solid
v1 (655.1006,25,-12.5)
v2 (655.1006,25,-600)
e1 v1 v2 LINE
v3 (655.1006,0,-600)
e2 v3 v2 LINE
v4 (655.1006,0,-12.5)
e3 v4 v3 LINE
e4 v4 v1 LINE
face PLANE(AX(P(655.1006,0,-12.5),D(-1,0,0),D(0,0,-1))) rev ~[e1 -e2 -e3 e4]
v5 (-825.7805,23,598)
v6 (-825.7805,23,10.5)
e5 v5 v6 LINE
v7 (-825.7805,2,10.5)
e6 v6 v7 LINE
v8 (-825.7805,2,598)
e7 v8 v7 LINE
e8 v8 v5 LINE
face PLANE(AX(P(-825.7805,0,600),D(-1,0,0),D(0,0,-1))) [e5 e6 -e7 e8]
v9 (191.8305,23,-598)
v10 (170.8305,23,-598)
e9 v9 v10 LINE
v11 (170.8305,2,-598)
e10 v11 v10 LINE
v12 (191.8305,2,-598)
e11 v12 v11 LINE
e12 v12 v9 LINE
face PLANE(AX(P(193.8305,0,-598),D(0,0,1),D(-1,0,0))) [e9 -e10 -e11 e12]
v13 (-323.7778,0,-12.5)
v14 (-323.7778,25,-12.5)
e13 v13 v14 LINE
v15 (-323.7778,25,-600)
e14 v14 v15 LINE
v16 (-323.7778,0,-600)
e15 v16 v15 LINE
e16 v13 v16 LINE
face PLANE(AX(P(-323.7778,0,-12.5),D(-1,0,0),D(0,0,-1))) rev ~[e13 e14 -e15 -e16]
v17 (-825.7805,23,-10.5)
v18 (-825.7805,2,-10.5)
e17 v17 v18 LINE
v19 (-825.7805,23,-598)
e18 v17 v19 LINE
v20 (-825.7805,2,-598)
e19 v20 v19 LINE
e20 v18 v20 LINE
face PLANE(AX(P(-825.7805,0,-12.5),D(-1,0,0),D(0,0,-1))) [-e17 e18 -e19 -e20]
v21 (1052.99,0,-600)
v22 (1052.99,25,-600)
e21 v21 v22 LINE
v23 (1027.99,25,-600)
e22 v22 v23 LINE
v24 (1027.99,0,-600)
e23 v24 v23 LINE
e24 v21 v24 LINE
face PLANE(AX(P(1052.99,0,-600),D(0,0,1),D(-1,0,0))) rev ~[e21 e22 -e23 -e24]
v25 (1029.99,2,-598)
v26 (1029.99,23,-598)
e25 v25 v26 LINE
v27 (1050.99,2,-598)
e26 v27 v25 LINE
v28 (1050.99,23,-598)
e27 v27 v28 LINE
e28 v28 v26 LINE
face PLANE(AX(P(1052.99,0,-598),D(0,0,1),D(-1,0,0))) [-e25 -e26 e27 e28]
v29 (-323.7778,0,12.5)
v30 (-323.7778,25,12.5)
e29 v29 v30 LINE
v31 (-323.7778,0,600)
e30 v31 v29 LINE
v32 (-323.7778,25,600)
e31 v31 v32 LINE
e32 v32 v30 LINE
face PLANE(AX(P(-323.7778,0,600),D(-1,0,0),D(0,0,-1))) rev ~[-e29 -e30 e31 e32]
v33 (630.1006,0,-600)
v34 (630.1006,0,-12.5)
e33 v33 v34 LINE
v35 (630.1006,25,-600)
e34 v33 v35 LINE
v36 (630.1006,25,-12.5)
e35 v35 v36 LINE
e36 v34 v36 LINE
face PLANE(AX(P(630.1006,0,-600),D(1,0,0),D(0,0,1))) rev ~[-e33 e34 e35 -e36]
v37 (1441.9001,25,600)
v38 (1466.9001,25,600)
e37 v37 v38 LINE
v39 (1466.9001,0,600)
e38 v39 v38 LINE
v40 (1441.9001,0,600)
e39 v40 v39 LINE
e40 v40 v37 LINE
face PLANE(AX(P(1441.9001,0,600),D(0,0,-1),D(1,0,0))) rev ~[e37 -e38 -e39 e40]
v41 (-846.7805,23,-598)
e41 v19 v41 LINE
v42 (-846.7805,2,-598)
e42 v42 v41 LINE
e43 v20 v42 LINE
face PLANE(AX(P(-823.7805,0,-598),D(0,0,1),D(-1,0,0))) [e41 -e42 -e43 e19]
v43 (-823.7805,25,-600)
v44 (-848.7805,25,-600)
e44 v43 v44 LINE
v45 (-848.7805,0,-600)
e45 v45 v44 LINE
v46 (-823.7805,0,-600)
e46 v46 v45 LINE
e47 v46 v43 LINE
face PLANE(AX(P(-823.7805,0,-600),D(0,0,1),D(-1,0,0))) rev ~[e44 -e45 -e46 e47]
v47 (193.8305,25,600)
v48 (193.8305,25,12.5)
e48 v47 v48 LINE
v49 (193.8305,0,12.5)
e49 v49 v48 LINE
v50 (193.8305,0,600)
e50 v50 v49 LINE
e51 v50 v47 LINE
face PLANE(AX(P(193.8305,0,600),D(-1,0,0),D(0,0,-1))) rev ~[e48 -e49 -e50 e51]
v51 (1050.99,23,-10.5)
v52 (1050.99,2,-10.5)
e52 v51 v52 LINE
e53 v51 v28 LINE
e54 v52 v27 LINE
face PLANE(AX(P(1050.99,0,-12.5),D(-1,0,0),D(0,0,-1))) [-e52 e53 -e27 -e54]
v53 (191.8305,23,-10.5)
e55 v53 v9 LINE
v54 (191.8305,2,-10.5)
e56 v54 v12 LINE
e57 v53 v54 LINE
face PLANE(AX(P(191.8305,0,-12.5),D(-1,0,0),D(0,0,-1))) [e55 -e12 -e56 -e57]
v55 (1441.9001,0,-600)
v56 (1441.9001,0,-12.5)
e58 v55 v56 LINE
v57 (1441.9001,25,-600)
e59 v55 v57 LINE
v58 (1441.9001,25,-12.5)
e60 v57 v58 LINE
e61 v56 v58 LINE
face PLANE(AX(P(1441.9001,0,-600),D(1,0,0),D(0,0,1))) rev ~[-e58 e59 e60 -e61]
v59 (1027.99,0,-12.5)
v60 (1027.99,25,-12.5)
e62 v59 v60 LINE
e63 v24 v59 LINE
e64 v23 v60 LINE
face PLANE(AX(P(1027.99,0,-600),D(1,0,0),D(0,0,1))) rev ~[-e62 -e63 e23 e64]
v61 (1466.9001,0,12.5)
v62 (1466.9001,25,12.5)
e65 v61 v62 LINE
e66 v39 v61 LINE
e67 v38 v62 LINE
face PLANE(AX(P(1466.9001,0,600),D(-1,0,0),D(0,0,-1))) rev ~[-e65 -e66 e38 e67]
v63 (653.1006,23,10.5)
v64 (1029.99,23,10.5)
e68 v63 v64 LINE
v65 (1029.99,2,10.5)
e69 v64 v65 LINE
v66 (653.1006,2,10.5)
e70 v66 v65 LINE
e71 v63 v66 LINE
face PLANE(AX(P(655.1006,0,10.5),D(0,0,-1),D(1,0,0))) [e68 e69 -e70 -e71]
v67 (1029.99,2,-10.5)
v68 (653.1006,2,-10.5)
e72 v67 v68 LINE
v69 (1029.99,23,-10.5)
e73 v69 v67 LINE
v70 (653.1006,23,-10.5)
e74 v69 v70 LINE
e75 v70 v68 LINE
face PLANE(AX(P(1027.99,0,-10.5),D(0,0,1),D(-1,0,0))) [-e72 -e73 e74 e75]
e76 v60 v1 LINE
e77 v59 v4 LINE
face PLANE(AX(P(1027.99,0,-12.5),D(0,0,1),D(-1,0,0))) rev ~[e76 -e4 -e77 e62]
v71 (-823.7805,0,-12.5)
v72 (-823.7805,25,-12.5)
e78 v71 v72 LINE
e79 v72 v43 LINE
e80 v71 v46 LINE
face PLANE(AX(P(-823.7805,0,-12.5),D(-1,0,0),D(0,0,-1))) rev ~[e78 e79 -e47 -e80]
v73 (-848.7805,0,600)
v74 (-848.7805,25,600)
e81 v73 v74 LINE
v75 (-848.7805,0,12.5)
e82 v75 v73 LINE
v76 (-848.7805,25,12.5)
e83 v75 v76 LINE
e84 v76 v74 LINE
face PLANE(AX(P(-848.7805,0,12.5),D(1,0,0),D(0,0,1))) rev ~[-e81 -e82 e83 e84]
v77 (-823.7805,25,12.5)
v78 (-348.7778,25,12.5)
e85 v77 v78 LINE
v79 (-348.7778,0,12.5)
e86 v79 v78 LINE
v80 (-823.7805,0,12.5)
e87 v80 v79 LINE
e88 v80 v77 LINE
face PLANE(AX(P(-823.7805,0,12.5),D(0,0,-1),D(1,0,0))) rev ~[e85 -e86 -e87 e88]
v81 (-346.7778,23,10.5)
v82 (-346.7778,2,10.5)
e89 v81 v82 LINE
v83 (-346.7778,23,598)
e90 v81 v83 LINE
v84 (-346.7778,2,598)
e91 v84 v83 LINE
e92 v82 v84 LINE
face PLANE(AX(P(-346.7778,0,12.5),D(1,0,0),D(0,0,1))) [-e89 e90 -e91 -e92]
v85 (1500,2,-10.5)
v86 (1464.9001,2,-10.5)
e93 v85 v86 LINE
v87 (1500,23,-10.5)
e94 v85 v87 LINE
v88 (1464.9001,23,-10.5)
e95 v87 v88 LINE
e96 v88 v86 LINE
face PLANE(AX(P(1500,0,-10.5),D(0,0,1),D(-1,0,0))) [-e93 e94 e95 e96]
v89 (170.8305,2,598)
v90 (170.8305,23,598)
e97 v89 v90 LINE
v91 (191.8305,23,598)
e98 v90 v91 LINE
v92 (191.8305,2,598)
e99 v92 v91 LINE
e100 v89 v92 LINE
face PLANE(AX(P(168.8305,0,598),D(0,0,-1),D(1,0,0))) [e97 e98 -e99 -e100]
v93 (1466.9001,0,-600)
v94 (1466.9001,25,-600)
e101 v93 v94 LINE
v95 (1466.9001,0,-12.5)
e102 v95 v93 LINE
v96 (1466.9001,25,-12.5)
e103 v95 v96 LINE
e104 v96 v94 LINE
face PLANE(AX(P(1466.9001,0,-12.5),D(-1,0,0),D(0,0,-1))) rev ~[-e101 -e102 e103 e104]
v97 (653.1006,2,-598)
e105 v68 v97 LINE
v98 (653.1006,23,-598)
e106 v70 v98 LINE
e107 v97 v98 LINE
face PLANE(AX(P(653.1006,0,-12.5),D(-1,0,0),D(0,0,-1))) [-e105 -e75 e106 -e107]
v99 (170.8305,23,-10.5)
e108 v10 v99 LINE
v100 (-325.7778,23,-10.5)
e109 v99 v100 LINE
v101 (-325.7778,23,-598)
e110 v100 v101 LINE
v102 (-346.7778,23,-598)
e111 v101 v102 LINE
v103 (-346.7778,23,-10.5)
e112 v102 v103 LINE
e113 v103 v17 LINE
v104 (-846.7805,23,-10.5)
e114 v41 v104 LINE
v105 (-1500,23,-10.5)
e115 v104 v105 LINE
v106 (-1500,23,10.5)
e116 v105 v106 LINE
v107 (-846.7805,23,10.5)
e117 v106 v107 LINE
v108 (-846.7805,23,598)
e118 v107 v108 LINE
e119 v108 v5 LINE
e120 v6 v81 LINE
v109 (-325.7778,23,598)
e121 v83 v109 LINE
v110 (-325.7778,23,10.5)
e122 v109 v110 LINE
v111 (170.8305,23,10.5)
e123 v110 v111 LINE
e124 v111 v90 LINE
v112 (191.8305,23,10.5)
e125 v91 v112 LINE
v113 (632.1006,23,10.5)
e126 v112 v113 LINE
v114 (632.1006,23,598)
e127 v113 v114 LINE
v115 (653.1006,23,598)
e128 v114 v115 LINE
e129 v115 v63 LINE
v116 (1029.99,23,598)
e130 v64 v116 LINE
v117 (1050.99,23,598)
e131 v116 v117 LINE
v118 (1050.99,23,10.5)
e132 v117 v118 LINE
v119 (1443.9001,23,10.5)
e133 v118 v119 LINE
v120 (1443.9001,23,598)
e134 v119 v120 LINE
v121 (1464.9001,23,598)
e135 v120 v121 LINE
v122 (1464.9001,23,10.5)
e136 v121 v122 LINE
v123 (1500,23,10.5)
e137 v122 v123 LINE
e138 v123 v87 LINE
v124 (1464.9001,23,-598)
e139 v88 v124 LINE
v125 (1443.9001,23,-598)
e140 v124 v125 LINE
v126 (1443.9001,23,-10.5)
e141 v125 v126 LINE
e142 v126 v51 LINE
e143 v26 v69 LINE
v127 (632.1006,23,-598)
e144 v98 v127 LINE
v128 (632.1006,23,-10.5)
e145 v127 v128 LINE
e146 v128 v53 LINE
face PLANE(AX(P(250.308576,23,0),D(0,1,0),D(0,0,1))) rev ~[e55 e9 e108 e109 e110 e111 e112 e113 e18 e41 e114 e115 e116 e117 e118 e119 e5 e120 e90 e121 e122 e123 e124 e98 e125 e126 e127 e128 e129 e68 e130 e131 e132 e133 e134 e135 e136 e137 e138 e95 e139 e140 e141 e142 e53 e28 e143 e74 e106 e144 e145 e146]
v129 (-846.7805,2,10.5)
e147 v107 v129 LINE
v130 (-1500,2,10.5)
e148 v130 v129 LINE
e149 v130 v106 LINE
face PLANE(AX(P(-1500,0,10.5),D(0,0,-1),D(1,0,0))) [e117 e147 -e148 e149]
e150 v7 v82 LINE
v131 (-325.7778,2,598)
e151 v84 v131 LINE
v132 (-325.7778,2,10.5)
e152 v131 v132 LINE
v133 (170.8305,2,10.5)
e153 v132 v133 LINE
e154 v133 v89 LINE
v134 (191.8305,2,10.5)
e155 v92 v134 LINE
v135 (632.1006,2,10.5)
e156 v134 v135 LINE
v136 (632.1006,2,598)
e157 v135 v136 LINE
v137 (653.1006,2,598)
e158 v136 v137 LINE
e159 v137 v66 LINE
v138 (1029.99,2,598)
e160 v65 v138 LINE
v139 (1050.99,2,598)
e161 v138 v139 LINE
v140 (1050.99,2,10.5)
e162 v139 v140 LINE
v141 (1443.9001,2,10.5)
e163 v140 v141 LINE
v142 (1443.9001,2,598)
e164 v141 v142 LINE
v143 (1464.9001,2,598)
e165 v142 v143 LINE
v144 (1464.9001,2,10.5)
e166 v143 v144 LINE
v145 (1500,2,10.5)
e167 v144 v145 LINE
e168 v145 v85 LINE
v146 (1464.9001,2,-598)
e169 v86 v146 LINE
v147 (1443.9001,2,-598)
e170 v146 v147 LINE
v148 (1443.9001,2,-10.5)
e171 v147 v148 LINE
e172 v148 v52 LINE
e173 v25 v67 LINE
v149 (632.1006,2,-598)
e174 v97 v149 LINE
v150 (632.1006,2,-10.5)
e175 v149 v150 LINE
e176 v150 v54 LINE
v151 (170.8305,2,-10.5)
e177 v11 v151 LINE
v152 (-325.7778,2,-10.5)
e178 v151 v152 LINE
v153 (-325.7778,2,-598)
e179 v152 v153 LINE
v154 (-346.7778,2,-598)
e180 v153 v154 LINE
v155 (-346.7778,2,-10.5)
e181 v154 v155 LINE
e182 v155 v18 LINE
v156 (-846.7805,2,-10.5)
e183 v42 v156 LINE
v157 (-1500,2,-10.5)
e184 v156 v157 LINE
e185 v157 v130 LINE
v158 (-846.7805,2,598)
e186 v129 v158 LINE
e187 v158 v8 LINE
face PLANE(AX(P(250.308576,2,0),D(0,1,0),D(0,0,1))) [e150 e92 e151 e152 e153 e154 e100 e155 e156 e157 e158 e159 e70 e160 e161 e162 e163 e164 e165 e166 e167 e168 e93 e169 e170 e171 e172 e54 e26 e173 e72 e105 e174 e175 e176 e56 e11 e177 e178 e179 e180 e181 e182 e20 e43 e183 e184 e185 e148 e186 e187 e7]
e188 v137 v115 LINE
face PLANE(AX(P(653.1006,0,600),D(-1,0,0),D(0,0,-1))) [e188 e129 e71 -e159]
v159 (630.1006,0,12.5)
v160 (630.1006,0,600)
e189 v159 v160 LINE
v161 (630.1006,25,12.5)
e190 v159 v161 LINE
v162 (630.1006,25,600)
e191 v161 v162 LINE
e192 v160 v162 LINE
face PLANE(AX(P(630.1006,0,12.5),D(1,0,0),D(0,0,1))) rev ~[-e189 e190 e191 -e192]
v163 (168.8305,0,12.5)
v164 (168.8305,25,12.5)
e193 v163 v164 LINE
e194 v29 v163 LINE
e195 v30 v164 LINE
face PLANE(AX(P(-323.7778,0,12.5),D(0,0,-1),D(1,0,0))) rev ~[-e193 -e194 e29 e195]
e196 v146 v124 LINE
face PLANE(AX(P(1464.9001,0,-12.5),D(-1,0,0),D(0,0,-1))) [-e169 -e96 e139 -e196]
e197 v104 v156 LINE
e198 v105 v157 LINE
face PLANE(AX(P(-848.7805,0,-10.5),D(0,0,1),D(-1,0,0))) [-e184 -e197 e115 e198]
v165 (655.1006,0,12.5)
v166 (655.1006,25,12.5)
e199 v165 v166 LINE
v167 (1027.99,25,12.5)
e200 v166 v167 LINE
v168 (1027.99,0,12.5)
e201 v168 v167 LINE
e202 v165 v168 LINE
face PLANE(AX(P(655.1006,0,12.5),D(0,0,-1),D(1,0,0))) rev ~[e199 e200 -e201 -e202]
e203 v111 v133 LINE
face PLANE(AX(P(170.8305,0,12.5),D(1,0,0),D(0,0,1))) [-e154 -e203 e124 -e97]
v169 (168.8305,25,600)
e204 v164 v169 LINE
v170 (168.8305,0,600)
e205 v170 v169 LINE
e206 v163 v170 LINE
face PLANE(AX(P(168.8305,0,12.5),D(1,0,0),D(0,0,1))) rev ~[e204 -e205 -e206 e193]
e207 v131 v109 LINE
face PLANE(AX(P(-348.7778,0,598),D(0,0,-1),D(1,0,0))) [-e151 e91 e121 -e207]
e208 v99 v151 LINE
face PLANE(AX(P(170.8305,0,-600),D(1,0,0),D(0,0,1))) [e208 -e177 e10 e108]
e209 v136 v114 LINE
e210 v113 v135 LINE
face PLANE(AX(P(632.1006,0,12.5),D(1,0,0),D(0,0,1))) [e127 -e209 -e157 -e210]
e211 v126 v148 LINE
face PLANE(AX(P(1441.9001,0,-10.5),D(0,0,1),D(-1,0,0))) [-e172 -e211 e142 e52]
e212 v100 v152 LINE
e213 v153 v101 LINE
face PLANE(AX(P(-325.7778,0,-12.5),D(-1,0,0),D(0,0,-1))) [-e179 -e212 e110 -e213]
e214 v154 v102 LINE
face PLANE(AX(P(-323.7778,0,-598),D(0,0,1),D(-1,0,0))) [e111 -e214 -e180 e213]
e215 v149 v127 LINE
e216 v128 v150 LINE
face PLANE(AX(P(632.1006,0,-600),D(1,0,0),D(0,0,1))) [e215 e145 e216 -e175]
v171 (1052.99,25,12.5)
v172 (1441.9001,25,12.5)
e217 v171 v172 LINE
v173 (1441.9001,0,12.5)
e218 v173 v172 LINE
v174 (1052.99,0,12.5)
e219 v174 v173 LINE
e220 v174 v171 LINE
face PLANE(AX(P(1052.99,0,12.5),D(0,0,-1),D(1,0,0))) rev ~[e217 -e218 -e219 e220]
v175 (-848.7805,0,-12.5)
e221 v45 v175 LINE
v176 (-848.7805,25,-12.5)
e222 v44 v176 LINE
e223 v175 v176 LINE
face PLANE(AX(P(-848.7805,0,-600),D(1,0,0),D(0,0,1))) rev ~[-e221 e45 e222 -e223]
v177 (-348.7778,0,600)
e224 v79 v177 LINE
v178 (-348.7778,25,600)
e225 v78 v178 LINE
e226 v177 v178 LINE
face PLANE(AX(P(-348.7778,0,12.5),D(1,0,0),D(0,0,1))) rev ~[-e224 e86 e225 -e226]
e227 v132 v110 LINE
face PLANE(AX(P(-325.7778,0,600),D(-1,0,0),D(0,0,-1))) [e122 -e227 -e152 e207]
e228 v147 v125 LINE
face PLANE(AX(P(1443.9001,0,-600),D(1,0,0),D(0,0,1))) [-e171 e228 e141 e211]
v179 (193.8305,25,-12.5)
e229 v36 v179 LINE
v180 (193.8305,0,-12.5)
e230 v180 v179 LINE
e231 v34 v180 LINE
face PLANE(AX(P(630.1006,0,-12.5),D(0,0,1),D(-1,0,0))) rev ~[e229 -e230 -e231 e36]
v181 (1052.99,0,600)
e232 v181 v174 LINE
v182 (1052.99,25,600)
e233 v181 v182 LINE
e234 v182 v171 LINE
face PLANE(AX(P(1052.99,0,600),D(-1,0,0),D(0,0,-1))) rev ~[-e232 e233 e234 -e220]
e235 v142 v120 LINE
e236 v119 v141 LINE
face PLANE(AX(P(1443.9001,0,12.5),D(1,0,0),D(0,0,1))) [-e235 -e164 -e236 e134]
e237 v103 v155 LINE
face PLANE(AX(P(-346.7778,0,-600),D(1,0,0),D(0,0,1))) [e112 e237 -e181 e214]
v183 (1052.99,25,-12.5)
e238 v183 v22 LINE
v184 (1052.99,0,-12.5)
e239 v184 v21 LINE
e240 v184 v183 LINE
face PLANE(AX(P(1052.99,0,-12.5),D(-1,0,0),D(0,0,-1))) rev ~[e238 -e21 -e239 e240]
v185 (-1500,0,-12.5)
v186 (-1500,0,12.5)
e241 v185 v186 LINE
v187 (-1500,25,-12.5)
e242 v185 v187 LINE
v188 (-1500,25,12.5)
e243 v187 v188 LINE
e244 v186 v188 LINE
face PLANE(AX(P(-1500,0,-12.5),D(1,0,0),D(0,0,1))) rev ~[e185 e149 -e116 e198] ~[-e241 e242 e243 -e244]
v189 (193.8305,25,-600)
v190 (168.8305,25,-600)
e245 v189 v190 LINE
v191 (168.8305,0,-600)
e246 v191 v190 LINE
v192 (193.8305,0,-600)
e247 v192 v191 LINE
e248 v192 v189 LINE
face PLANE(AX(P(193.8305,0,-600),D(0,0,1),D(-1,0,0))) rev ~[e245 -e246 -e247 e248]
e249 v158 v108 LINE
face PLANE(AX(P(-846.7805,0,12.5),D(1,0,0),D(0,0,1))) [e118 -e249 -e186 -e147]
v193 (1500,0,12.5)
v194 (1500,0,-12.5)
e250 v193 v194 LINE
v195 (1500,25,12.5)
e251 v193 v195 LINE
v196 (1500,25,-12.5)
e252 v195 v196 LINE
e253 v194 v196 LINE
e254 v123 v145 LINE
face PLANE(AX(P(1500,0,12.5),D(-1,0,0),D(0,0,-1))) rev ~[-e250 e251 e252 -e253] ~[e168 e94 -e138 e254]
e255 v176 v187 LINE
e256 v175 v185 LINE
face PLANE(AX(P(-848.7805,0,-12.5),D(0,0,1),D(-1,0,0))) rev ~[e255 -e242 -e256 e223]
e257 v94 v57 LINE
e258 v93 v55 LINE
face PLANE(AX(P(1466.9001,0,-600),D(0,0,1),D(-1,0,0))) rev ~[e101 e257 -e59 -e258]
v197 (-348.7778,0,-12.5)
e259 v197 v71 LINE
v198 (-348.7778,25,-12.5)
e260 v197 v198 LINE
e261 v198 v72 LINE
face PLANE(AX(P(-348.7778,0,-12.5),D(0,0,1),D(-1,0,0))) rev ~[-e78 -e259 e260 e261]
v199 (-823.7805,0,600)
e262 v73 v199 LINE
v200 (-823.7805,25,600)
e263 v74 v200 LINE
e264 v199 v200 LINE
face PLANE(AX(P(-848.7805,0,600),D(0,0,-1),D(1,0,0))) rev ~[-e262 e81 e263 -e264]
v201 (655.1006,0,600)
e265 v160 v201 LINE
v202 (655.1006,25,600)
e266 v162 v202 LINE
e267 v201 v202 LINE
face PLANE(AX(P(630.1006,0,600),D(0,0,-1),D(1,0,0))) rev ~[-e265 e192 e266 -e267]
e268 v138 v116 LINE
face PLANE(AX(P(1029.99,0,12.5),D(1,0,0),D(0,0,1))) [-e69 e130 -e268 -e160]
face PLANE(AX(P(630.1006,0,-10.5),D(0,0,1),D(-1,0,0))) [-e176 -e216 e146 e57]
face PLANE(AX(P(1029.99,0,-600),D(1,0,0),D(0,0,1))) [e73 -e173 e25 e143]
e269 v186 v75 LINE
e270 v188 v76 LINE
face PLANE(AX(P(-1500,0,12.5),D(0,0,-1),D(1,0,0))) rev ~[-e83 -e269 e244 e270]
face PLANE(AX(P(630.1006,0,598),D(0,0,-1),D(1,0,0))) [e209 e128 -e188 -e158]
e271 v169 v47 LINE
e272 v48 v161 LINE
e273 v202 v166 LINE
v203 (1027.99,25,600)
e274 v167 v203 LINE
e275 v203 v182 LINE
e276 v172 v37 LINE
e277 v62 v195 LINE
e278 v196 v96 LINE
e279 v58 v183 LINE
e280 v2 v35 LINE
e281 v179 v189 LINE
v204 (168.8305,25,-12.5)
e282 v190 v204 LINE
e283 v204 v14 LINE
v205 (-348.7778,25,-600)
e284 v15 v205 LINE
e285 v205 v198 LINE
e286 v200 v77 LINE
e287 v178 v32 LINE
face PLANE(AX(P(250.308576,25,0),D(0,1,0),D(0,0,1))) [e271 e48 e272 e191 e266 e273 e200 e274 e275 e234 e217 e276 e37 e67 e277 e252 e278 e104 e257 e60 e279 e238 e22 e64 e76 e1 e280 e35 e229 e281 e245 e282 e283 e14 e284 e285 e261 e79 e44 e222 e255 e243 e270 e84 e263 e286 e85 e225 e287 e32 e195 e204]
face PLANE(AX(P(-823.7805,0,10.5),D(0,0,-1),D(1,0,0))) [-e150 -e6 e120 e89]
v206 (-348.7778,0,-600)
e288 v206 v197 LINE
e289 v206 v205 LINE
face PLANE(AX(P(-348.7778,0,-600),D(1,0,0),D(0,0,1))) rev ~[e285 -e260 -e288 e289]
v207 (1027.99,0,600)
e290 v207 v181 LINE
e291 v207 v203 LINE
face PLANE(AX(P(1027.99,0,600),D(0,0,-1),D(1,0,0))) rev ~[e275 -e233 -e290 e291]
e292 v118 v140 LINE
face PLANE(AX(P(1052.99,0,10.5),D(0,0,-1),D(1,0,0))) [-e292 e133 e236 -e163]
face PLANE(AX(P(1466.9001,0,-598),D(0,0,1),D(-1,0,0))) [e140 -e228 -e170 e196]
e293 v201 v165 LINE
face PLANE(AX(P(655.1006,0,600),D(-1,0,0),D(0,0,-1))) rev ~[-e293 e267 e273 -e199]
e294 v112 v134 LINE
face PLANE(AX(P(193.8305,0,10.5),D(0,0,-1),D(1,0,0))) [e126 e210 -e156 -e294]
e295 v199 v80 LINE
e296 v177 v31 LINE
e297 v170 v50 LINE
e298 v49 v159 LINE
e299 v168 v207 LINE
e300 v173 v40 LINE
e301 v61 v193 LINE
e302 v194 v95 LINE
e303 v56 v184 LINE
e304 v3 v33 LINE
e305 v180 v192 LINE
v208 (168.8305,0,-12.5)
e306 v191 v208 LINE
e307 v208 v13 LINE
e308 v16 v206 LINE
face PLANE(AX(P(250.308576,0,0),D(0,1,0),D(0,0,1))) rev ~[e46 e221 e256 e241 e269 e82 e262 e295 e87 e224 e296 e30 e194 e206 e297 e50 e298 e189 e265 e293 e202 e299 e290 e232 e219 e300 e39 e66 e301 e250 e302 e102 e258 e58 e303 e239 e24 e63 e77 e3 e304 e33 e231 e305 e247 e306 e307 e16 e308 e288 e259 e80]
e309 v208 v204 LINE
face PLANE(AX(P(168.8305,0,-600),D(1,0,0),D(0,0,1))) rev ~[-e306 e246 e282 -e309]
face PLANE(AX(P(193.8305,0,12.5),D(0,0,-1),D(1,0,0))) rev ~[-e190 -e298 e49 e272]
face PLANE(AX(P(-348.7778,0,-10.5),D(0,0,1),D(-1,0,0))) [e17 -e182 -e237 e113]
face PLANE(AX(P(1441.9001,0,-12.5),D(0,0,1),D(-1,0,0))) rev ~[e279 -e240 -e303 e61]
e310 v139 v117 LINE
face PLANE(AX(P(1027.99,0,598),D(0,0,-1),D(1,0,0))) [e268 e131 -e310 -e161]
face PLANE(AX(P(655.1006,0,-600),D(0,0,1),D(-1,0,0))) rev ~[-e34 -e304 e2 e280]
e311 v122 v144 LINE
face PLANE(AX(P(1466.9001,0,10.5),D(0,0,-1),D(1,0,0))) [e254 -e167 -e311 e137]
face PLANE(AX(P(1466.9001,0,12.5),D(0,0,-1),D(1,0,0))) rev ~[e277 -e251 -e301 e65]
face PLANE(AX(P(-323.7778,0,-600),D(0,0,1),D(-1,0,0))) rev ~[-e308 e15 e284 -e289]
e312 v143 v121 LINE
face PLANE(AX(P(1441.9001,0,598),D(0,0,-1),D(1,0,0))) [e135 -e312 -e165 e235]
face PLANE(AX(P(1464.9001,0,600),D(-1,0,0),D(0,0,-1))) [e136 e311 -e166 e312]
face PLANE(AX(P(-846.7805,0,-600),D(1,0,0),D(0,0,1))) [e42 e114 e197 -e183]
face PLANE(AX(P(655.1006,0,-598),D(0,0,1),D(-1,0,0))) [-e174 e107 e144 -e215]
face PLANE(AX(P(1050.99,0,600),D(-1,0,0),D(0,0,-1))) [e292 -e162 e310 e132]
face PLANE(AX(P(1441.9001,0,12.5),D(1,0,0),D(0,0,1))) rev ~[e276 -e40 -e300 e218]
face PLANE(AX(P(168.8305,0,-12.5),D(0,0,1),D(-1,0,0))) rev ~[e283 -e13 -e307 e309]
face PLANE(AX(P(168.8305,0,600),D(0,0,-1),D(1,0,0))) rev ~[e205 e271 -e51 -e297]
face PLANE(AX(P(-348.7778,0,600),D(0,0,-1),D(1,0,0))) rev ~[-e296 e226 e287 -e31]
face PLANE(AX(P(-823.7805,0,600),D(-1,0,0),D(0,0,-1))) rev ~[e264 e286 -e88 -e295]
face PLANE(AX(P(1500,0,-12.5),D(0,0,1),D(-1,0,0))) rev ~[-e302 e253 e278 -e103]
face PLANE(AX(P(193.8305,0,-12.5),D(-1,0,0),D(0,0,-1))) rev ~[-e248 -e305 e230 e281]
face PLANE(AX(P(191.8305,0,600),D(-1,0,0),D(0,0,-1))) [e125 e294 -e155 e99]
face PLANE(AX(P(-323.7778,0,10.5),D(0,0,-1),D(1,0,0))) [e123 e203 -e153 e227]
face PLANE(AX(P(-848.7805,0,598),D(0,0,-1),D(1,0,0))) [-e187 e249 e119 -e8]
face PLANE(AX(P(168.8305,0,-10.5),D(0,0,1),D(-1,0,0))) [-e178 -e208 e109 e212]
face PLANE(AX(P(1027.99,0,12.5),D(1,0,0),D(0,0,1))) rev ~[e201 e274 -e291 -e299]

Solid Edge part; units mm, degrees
sketch "Sketch1" plane through (0, 0, 0) normal (0, -1, 0) x (1, 0, 0)
  line L0 (-323.7778, 12.5) -> (168.8305, 12.5)
  line L1 (168.8305, 12.5) -> (168.8305, 600)
  line L2 (168.8305, 600) -> (193.8305, 600)
  line L3 (193.8305, 600) -> (193.8305, 12.5)
  line L4 (193.8305, 12.5) -> (630.1006, 12.5)
  line L5 (630.1006, 12.5) -> (630.1006, 600)
  line L6 (630.1006, 600) -> (655.1006, 600)
  line L7 (655.1006, 600) -> (655.1006, 12.5)
  line L8 (655.1006, 12.5) -> (1027.99, 12.5)
  line L9 (1027.99, 12.5) -> (1027.99, 600)
  line L10 (1027.99, 600) -> (1052.99, 600)
  line L11 (1052.99, 600) -> (1052.99, 12.5)
  line L12 (1052.99, 12.5) -> (1441.9001, 12.5)
  line L13 (1441.9001, 12.5) -> (1441.9001, 600)
  line L14 (1441.9001, 600) -> (1466.9001, 600)
  line L15 (1466.9001, 600) -> (1466.9001, 12.5)
  line L16 (1466.9001, 12.5) -> (1500, 12.5)
  line L17 (1500, 12.5) -> (1500, -12.5)
  line L18 (1500, -12.5) -> (1466.9001, -12.5)
  line L19 (1466.9001, -12.5) -> (1466.9001, -600)
  line L20 (1466.9001, -600) -> (1441.9001, -600)
  line L21 (1441.9001, -600) -> (1441.9001, -12.5)
  line L22 (1441.9001, -12.5) -> (1052.99, -12.5)
  line L23 (1052.99, -12.5) -> (1052.99, -600)
  line L24 (1052.99, -600) -> (1027.99, -600)
  line L25 (1027.99, -600) -> (1027.99, -12.5)
  line L26 (1027.99, -12.5) -> (655.1006, -12.5)
  line L27 (655.1006, -12.5) -> (655.1006, -600)
  line L28 (655.1006, -600) -> (630.1006, -600)
  line L29 (630.1006, -600) -> (630.1006, -12.5)
  line L30 (630.1006, -12.5) -> (193.8305, -12.5)
  line L31 (193.8305, -12.5) -> (193.8305, -600)
  line L32 (193.8305, -600) -> (168.8305, -600)
  line L33 (168.8305, -600) -> (168.8305, -12.5)
  line L34 (168.8305, -12.5) -> (-323.7778, -12.5)
  line L35 (-323.7778, -12.5) -> (-323.7778, -600)
  line L36 (-323.7778, -600) -> (-348.7778, -600)
  line L37 (-348.7778, -600) -> (-348.7778, -12.5)
  line L38 (-348.7778, -12.5) -> (-823.7805, -12.5)
  line L39 (-823.7805, -12.5) -> (-823.7805, -600)
  line L40 (-823.7805, -600) -> (-848.7805, -600)
  line L41 (-848.7805, -600) -> (-848.7805, -12.5)
  line L42 (-848.7805, -12.5) -> (-1500, -12.5)
  line L43 (-1500, -12.5) -> (-1500, 12.5)
  line L44 (-1500, 12.5) -> (-848.7805, 12.5)
  line L45 (-848.7805, 12.5) -> (-848.7805, 600)
  line L46 (-848.7805, 600) -> (-823.7805, 600)
  line L47 (-823.7805, 600) -> (-823.7805, 12.5)
  line L48 (-823.7805, 12.5) -> (-348.7778, 12.5)
  line L49 (-348.7778, 12.5) -> (-348.7778, 600)
  line L50 (-348.7778, 600) -> (-323.7778, 600)
  line L51 (-323.7778, 600) -> (-323.7778, 12.5)
extrude "Protrusion1" add sketch "Sketch1" against normal blind 25
shell "Thinwall_1" thickness 2 removed faces 2 at (1500, 20.5833, 8.5833) at (-1500, 20.5833, -8.5833)
properties material "Aluminum, 6061-T6"
